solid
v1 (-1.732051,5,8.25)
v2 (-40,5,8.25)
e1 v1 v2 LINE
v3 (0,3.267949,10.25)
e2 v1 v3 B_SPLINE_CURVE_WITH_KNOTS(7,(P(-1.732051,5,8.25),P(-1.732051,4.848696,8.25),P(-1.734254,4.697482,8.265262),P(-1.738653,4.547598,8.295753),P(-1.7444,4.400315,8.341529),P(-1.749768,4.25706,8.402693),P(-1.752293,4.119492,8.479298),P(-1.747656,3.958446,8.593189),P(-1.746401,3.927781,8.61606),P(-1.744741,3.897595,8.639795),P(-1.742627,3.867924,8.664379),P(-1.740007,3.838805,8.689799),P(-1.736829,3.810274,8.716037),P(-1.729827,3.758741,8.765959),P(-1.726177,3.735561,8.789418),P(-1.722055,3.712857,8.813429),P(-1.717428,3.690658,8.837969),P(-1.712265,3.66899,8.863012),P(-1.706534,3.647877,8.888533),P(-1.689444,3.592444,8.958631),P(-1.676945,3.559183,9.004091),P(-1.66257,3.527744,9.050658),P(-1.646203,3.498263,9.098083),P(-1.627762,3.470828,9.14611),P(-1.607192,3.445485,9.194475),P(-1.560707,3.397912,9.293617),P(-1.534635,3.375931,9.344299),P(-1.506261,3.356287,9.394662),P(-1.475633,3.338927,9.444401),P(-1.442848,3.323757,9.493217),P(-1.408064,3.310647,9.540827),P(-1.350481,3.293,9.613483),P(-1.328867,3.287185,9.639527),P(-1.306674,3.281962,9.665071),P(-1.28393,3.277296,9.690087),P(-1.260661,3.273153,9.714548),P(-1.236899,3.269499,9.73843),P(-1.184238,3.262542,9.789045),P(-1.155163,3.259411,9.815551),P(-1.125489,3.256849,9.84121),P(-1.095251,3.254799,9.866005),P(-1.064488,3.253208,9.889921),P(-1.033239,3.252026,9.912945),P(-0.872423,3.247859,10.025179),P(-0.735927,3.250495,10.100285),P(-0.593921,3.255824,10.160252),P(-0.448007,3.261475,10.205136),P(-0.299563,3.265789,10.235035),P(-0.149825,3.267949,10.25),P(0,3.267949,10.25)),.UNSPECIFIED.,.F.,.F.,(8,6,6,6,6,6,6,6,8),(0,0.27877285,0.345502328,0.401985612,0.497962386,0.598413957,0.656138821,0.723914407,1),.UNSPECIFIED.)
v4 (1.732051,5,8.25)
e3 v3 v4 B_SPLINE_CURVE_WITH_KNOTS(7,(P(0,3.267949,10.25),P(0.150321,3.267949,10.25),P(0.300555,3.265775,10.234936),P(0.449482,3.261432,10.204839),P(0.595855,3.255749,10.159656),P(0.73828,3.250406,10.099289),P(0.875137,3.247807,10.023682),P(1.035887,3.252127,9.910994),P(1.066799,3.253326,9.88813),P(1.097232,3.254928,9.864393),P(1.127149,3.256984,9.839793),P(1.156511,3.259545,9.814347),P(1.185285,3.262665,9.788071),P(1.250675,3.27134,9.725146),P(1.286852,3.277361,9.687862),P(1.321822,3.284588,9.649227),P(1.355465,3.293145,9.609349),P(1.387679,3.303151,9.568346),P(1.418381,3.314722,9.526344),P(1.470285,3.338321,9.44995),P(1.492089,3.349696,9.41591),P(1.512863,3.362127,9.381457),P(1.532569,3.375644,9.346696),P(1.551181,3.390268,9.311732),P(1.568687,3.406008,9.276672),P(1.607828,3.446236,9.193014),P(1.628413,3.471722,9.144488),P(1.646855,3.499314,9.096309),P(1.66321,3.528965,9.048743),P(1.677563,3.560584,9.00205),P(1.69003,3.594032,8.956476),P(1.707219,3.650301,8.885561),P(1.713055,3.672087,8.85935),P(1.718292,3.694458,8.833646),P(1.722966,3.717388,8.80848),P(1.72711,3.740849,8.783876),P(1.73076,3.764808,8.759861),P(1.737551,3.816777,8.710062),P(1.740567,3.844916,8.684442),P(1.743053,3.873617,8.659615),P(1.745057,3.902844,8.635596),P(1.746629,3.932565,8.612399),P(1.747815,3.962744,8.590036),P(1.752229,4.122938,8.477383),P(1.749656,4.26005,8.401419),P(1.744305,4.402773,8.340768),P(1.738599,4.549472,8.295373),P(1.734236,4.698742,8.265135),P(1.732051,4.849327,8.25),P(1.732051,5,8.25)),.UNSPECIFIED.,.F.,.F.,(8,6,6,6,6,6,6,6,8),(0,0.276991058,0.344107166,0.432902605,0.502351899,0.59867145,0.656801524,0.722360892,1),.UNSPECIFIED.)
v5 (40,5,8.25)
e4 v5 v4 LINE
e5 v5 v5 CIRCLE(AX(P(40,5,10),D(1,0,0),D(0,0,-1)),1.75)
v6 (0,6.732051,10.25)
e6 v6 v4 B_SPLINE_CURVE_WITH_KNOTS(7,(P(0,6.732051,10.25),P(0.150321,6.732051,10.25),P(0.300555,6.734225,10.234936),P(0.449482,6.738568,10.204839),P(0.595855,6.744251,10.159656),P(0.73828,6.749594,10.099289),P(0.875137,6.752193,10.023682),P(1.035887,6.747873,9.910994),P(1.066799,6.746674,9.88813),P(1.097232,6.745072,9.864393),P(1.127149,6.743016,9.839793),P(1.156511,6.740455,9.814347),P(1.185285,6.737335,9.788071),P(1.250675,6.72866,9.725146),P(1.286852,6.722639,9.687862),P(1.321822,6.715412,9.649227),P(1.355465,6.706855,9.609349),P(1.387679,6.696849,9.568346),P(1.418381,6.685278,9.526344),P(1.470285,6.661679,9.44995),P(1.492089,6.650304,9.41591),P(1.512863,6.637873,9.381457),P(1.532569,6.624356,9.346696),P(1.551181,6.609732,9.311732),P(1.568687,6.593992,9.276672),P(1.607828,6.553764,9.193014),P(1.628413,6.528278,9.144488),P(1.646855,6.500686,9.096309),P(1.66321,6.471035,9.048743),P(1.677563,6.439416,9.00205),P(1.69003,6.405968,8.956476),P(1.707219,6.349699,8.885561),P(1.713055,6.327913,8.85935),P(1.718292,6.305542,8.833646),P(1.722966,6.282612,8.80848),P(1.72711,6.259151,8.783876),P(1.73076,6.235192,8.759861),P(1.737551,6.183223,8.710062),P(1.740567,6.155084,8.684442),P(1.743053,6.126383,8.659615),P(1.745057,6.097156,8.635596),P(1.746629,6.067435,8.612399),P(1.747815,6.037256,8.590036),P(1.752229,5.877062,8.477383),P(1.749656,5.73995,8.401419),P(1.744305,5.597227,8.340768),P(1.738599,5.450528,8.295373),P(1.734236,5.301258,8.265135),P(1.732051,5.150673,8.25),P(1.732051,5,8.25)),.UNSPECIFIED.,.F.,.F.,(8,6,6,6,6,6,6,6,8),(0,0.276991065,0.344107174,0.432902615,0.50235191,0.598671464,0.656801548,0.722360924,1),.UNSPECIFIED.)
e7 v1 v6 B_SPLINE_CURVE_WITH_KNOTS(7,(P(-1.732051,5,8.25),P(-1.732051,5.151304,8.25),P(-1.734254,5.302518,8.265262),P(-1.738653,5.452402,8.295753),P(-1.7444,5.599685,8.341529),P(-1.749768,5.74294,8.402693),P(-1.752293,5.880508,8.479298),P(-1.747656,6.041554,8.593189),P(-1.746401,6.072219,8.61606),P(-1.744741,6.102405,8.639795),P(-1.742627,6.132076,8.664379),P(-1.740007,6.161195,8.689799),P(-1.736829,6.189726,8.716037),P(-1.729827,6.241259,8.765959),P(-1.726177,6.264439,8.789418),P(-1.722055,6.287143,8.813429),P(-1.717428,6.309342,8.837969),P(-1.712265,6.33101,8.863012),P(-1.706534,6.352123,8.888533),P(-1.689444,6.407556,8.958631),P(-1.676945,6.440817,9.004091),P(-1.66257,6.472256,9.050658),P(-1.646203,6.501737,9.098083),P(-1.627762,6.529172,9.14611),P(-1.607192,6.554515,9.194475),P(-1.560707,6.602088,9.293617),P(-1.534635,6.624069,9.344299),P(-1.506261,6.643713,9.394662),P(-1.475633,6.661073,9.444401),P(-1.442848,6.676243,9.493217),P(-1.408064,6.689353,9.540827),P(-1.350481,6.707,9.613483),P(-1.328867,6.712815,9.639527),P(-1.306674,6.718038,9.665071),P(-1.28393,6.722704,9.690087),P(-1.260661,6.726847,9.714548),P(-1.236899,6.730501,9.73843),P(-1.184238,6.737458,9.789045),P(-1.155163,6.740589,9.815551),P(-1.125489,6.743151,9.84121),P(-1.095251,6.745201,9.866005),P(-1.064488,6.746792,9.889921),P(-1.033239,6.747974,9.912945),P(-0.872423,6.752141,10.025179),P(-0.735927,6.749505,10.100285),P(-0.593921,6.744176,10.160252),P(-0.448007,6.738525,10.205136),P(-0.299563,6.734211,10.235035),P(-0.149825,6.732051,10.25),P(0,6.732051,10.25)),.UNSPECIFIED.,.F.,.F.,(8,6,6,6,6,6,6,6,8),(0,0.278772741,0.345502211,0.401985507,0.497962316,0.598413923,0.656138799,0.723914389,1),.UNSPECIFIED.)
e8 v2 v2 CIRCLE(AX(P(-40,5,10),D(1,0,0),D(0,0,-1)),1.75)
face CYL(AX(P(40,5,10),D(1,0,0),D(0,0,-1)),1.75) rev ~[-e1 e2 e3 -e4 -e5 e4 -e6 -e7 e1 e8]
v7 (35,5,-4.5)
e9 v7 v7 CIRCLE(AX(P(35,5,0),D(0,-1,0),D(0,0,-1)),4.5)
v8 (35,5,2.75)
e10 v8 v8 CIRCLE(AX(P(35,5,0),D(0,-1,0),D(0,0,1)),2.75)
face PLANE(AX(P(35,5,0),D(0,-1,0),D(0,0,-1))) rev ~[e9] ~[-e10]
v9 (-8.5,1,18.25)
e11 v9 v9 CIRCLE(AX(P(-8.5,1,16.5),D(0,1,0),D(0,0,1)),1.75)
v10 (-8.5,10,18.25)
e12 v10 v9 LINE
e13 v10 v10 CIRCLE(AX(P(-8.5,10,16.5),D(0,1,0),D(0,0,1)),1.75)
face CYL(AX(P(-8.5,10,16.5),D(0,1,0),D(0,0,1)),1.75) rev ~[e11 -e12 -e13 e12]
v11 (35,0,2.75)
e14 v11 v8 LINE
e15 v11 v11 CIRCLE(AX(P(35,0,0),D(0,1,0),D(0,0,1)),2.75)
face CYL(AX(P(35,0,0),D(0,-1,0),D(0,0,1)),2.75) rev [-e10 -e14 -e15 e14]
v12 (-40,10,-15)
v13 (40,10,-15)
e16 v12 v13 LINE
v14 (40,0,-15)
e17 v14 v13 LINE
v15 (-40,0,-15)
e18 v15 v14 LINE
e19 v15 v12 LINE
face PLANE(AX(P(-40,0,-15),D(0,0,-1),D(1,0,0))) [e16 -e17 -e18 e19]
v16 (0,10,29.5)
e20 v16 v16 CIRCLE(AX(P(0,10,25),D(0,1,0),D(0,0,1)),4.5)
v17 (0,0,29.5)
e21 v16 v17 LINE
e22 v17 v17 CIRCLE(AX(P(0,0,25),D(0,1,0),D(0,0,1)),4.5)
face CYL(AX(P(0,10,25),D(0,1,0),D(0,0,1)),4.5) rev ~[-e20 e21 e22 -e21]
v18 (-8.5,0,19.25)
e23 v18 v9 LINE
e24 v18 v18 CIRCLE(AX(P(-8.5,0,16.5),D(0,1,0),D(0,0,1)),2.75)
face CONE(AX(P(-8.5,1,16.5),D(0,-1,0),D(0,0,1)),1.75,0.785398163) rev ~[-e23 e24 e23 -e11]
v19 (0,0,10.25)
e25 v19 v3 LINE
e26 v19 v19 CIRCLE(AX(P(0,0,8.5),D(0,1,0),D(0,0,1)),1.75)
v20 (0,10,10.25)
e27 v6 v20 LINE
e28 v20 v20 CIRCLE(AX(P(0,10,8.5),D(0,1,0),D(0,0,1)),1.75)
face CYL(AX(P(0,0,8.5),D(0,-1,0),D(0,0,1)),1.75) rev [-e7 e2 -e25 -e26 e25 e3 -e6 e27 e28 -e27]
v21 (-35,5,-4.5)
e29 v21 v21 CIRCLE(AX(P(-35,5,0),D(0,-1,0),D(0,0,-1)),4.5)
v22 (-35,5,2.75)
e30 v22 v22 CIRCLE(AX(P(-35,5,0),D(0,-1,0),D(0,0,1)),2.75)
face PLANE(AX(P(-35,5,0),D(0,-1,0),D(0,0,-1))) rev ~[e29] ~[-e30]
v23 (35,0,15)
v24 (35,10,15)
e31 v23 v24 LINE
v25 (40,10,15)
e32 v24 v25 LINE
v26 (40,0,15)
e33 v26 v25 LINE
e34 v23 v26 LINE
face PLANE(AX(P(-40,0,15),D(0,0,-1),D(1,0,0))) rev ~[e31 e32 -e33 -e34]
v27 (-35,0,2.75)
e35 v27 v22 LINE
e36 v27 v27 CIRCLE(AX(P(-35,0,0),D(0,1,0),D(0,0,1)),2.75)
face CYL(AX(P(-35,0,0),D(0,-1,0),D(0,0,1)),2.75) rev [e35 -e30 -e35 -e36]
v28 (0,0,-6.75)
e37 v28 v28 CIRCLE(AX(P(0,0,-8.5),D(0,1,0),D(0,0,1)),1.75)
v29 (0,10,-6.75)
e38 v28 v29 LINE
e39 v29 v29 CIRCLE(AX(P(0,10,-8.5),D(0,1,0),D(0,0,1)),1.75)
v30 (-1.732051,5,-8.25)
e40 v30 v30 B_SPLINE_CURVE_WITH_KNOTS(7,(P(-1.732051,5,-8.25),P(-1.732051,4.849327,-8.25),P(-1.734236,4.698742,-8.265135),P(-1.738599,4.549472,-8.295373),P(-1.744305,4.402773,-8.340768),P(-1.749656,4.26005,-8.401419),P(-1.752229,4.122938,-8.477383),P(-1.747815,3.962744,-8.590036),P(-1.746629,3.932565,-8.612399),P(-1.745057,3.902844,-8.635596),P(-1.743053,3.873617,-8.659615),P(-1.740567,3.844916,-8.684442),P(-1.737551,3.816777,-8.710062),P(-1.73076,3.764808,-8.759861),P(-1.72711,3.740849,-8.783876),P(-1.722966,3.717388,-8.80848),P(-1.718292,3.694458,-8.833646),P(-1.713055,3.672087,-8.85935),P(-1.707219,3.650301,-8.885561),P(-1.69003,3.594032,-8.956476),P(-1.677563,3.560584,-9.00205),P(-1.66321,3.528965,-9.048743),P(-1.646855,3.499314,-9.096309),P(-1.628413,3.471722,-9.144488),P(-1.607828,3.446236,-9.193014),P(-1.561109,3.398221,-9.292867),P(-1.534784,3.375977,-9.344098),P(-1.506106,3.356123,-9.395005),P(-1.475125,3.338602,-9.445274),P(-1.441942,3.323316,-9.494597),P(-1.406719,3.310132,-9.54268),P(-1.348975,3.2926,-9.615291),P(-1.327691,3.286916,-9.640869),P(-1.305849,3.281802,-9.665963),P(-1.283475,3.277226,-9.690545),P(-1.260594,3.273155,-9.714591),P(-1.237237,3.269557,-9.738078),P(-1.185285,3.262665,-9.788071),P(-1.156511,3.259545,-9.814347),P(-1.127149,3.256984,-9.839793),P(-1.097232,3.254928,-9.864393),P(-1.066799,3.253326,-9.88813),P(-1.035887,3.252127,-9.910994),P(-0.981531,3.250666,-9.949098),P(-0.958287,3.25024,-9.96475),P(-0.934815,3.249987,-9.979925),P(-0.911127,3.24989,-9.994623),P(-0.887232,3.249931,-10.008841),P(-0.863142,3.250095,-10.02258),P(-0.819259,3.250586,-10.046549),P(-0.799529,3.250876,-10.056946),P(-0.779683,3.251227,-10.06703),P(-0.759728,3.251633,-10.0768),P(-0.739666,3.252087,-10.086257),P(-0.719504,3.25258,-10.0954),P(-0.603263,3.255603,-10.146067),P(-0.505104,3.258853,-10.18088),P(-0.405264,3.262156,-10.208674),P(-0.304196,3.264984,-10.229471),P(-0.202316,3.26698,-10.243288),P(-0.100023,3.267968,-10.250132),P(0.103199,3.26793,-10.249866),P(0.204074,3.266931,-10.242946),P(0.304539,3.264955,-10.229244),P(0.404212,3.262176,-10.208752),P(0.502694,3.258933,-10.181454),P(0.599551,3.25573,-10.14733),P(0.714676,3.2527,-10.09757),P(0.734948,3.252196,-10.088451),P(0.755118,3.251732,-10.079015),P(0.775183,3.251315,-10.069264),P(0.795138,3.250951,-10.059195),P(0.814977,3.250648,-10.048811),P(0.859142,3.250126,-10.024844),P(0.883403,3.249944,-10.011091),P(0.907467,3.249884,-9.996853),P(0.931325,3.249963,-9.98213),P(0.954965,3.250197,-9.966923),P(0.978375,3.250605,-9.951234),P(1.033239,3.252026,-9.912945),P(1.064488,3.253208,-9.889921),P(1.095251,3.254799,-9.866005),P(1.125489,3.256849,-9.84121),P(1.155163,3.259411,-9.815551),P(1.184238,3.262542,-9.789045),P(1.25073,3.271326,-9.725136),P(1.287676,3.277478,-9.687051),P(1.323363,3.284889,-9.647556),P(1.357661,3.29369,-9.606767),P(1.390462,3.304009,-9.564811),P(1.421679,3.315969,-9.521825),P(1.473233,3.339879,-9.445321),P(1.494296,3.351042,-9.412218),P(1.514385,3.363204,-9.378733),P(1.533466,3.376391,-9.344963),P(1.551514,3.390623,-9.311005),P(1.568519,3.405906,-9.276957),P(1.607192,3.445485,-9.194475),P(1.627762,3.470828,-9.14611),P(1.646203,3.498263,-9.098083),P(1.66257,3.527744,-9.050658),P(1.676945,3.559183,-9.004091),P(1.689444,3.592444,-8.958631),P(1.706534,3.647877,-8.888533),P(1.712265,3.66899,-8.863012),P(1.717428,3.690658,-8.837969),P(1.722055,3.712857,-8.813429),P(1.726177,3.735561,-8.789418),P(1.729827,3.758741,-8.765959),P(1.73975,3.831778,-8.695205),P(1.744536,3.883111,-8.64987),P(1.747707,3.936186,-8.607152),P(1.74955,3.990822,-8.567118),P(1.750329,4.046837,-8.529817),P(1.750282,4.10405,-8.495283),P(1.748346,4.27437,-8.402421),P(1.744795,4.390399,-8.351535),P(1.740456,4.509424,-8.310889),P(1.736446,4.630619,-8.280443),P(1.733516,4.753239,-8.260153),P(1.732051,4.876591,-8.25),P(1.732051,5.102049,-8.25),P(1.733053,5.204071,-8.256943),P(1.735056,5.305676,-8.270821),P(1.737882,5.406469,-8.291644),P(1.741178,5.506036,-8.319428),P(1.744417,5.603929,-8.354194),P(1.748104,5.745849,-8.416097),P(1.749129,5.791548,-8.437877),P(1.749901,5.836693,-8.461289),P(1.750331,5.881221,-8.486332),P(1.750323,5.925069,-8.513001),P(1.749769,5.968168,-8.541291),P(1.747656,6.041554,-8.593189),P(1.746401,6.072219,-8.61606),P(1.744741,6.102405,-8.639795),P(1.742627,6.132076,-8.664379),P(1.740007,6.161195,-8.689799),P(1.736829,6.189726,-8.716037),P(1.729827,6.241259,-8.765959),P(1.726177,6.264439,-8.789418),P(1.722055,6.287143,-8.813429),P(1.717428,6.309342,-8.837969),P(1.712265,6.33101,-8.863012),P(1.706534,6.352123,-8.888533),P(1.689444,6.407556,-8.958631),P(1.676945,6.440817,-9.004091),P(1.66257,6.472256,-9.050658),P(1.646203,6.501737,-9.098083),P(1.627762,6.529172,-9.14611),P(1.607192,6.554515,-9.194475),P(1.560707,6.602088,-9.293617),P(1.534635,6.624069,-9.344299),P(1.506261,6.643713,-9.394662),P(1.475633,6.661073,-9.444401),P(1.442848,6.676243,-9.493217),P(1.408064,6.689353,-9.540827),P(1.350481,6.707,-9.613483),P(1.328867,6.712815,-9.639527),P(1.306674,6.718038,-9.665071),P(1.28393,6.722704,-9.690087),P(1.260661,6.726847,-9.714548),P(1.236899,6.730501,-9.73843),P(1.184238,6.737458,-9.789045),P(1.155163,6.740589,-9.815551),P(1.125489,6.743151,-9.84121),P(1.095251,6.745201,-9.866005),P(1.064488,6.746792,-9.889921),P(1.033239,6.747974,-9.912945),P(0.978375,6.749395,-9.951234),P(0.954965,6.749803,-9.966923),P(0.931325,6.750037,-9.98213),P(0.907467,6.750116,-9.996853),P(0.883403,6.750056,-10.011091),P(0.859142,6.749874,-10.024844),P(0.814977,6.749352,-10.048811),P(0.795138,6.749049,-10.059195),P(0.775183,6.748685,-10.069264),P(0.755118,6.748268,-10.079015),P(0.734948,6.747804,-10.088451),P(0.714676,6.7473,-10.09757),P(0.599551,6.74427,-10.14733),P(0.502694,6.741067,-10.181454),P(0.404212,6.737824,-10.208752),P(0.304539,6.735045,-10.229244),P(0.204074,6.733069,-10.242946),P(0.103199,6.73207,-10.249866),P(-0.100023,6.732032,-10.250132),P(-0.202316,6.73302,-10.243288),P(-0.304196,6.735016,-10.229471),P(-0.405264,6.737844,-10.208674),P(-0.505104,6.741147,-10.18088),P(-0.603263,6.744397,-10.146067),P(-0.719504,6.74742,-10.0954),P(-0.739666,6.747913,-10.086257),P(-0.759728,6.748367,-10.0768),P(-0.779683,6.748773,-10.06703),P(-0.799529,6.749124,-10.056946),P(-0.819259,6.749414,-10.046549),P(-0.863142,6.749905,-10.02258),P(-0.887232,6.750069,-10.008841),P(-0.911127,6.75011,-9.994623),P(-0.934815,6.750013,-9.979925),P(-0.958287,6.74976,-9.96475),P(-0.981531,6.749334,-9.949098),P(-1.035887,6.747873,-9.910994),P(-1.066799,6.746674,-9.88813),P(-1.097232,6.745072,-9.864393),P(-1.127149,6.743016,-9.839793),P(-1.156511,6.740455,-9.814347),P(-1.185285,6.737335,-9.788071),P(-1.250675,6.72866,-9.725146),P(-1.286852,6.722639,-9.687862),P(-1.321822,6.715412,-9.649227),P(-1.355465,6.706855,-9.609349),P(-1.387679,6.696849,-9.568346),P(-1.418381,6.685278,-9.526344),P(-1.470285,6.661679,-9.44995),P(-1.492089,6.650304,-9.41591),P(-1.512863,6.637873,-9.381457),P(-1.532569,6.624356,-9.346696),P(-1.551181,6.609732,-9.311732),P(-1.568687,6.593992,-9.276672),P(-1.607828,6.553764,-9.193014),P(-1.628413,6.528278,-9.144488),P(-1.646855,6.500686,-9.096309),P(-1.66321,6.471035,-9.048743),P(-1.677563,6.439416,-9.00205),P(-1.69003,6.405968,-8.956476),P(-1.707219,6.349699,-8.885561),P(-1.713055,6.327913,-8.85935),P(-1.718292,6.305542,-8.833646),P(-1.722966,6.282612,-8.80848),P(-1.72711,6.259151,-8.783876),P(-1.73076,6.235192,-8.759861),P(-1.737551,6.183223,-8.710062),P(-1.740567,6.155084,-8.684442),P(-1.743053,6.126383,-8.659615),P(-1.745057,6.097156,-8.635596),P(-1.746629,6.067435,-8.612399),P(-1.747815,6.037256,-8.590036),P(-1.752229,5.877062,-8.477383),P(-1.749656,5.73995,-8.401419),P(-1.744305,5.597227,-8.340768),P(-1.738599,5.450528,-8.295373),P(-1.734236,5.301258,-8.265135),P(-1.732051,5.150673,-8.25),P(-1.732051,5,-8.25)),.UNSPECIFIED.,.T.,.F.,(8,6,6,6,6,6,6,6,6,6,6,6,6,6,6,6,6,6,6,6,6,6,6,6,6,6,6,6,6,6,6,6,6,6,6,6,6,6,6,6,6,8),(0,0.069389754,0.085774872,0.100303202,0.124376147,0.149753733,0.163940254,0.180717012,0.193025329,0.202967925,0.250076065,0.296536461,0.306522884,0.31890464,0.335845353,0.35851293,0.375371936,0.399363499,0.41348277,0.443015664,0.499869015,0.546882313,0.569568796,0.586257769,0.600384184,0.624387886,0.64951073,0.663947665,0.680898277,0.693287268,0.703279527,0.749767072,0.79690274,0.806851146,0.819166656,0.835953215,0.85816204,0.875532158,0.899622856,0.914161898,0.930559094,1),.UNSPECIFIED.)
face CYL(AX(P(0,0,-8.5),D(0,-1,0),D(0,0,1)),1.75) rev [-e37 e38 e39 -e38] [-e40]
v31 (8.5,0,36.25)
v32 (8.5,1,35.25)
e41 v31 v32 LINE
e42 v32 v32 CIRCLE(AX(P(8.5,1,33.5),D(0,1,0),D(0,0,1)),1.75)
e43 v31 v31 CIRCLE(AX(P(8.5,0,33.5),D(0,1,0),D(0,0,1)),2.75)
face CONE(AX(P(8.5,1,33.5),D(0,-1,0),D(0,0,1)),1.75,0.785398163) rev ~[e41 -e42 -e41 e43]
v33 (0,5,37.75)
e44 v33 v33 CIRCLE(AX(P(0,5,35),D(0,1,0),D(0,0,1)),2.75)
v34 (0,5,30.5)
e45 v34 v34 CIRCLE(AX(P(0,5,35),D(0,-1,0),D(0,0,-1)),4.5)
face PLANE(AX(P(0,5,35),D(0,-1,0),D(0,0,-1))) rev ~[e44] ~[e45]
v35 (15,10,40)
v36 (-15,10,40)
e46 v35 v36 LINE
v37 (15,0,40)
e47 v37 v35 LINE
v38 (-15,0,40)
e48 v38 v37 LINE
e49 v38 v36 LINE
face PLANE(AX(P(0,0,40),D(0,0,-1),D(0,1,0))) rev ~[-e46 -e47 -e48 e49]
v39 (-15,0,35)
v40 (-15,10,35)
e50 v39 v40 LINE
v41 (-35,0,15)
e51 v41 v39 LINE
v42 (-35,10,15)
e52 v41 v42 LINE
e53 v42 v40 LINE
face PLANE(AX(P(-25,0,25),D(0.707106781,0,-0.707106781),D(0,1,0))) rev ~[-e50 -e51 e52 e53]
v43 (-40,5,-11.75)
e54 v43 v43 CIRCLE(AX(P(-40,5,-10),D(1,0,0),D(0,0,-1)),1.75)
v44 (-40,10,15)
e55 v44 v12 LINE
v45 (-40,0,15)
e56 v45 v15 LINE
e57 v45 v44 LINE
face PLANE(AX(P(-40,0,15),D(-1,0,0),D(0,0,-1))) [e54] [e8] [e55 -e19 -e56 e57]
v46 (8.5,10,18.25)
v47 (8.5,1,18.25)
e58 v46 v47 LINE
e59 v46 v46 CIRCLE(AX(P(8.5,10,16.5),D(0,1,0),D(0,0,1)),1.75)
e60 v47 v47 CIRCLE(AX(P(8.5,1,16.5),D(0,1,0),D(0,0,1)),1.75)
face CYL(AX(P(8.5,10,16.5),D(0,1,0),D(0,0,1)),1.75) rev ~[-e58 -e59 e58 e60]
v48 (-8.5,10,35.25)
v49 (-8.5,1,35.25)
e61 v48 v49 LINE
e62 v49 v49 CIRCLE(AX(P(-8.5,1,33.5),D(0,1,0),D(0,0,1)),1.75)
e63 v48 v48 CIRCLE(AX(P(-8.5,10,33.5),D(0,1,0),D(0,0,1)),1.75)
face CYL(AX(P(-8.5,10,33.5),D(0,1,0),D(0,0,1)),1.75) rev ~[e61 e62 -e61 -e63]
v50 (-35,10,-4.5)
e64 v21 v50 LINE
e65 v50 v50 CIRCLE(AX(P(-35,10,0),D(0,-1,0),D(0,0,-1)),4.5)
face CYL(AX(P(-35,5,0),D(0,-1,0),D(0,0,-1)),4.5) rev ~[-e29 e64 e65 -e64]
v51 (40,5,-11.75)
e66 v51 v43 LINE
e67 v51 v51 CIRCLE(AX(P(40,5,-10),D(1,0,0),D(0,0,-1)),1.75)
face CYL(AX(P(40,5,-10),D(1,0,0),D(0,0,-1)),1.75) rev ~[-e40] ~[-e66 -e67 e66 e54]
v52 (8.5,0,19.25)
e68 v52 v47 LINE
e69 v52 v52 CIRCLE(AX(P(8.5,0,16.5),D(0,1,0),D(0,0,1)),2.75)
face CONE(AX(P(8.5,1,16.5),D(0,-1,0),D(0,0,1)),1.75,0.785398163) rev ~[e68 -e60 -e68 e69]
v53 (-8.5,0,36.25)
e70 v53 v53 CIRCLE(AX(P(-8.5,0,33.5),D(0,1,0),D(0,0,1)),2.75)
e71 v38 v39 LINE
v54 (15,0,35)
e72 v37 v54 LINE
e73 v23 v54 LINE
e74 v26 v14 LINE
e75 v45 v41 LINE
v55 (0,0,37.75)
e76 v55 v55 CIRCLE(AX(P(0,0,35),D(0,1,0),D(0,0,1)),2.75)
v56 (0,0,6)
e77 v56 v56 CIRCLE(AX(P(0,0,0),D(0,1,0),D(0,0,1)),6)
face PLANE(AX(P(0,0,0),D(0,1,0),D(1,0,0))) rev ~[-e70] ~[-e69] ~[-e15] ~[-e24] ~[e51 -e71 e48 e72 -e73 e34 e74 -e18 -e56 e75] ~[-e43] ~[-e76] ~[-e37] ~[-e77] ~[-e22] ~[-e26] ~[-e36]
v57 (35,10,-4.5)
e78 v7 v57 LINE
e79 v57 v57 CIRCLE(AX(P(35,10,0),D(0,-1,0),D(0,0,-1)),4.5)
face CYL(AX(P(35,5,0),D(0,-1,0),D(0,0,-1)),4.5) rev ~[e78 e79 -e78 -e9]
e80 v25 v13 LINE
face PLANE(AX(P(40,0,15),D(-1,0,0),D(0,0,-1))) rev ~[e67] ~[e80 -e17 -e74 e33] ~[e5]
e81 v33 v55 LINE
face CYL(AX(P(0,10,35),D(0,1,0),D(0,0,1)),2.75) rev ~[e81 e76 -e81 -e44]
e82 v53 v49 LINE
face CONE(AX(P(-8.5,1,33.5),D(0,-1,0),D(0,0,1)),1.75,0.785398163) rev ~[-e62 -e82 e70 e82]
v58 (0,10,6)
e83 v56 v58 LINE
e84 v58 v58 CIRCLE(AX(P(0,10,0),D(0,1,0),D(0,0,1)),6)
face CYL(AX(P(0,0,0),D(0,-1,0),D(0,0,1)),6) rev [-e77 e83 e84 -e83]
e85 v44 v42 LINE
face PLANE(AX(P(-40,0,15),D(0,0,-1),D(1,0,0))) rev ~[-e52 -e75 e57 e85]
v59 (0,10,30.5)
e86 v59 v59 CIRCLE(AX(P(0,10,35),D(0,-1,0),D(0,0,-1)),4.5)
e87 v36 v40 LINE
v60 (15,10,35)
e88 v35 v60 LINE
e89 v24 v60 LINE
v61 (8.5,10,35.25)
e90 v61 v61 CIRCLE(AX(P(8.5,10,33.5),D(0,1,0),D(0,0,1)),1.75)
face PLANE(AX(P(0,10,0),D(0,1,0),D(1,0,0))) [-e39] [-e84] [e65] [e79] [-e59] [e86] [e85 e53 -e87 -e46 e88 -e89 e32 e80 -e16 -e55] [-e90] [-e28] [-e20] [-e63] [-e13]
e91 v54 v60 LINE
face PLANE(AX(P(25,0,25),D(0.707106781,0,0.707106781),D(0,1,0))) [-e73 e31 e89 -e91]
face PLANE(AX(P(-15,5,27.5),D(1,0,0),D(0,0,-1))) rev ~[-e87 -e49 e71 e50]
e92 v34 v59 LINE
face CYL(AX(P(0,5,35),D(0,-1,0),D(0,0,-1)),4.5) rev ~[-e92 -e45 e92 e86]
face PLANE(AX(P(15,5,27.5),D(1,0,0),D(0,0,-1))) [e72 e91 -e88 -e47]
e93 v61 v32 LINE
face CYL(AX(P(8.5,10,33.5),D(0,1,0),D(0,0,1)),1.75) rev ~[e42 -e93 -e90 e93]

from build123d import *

# Parameters (mm, degrees)
SKETCH1_W           = 80
SKETCH1_H           = 30
SKETCH1_R           = 1.75
SKETCH1_R_2         = 6
SKETCH1_R_3         = 2.75
BOSS_EXTRUDE1_DEPTH = 10
SKETCH4_W           = 25
SKETCH4_H           = 10
BOSS_EXTRUDE3_DEPTH = 15
SKETCH5_R           = 2.75
CUT_EXTRUDE1_DEPTH  = 30
CHAMFER2_SIZE       = 20
SKETCH6_R           = 1.75
SKETCH6_R_2         = 4.5
CUT_EXTRUDE2_DEPTH  = 30
SKETCH8_R           = 1.75
CUT_EXTRUDE3_DEPTH  = 91
CUT_EXTRUDE13_START = -5
SKETCH12_R          = 4.5
CUT_EXTRUDE13_DEPTH = 53.445626552
CHAMFER3_SIZE       = 1


with BuildPart() as part:
    # Sketch1 → Boss-Extrude1 (new body)
    with BuildSketch(Plane(origin=(0, 0, 0), x_dir=(1, 0, 0), z_dir=(0, 1, 0))):
        Rectangle(SKETCH1_W, SKETCH1_H)
        with Locations(Location((0, 8.5, 0), (0, 0, 270))):
            Circle(SKETCH1_R, mode=Mode.SUBTRACT)
        with Locations(Location((0, -8.5, 0), (0, 0, 270))):
            Circle(SKETCH1_R, mode=Mode.SUBTRACT)
        with Locations(Location((0, 0, 0), (0, 0, 270))):
            Circle(SKETCH1_R_2, mode=Mode.SUBTRACT)
        with Locations(Location((-35, 0, 0), (0, 0, 270))):
            Circle(SKETCH1_R_3, mode=Mode.SUBTRACT)
        with Locations(Location((35, 0, 0), (0, 0, 270))):
            Circle(SKETCH1_R_3, mode=Mode.SUBTRACT)
    extrude(amount=BOSS_EXTRUDE1_DEPTH)

    # Sketch4 → Boss-Extrude3 (add, symmetric)
    with BuildSketch(Plane(origin=(0, 0, 0), x_dir=(0, 0, -1), z_dir=(1, 0, 0))):
        with Locations((-27.5, 5)):
            Rectangle(SKETCH4_W, SKETCH4_H)
    extrude(amount=BOSS_EXTRUDE3_DEPTH, both=True)

    # Sketch5 → Cut-Extrude1 (cut)
    with BuildSketch(Plane(origin=(0, 10, 0), x_dir=(1, 0, 0), z_dir=(0, 1, 0))):
        with Locations(Location((0, -35, 0), (0, 0, 270))):
            Circle(SKETCH5_R)
    extrude(amount=-CUT_EXTRUDE1_DEPTH, mode=Mode.SUBTRACT)

    # Chamfer2
    chamfer2_edges = [part.edges().sort_by_distance(p)[0] for p in [
        (-15, 5, 15),
        (15, 5, 15),
    ]]
    chamfer(chamfer2_edges, length=CHAMFER2_SIZE)

    # Sketch6 → Cut-Extrude2 (cut)
    with BuildSketch(Plane(origin=(0, 10, 0), x_dir=(1, 0, 0), z_dir=(0, 1, 0))):
        with Locations(Location((-8.5, -16.5, 0), (0, 0, 270))):
            Circle(SKETCH6_R)
        with Locations(Location((8.5, -16.5, 0), (0, 0, 270))):
            Circle(SKETCH6_R)
        with Locations(Location((8.5, -33.5, 0), (0, 0, 270))):
            Circle(SKETCH6_R)
        with Locations(Location((-8.5, -33.5, 0), (0, 0, 270))):
            Circle(SKETCH6_R)
        with Locations(Location((0, -25, 0), (0, 0, 270))):
            Circle(SKETCH6_R_2)
    extrude(amount=-CUT_EXTRUDE2_DEPTH, mode=Mode.SUBTRACT)

    # Sketch8 → Cut-Extrude3 (cut, through all)
    with BuildSketch(Plane(origin=(40, 0, 0), x_dir=(0, 0, -1), z_dir=(1, 0, 0))):
        with Locations((-10, 5)):
            Circle(SKETCH8_R)
        with Locations((10, 5)):
            Circle(SKETCH8_R)
    extrude(amount=-CUT_EXTRUDE3_DEPTH, mode=Mode.SUBTRACT)

    # Sketch12 → Cut-Extrude13 (cut, through all)
    with BuildSketch(Plane.XZ.offset(CUT_EXTRUDE13_START)):
        with Locations(Location((0, 35, 0), (0, 0, 270))):
            Circle(SKETCH12_R)
        with Locations(Location((35, 0, 0), (0, 0, 270))):
            Circle(SKETCH12_R)
        with Locations(Location((-35, 0, 0), (0, 0, 270))):
            Circle(SKETCH12_R)
    extrude(amount=-CUT_EXTRUDE13_DEPTH, mode=Mode.SUBTRACT)

    # Chamfer3
    chamfer3_edges = [part.edges().sort_by_distance(p)[0] for p in [
        (-8.5, 0, 14.75),
        (8.5, 0, 31.75),
        (-8.5, 0, 31.75),
        (8.5, 0, 14.75),
    ]]
    chamfer(chamfer3_edges, length=CHAMFER3_SIZE)


solid = part.part
